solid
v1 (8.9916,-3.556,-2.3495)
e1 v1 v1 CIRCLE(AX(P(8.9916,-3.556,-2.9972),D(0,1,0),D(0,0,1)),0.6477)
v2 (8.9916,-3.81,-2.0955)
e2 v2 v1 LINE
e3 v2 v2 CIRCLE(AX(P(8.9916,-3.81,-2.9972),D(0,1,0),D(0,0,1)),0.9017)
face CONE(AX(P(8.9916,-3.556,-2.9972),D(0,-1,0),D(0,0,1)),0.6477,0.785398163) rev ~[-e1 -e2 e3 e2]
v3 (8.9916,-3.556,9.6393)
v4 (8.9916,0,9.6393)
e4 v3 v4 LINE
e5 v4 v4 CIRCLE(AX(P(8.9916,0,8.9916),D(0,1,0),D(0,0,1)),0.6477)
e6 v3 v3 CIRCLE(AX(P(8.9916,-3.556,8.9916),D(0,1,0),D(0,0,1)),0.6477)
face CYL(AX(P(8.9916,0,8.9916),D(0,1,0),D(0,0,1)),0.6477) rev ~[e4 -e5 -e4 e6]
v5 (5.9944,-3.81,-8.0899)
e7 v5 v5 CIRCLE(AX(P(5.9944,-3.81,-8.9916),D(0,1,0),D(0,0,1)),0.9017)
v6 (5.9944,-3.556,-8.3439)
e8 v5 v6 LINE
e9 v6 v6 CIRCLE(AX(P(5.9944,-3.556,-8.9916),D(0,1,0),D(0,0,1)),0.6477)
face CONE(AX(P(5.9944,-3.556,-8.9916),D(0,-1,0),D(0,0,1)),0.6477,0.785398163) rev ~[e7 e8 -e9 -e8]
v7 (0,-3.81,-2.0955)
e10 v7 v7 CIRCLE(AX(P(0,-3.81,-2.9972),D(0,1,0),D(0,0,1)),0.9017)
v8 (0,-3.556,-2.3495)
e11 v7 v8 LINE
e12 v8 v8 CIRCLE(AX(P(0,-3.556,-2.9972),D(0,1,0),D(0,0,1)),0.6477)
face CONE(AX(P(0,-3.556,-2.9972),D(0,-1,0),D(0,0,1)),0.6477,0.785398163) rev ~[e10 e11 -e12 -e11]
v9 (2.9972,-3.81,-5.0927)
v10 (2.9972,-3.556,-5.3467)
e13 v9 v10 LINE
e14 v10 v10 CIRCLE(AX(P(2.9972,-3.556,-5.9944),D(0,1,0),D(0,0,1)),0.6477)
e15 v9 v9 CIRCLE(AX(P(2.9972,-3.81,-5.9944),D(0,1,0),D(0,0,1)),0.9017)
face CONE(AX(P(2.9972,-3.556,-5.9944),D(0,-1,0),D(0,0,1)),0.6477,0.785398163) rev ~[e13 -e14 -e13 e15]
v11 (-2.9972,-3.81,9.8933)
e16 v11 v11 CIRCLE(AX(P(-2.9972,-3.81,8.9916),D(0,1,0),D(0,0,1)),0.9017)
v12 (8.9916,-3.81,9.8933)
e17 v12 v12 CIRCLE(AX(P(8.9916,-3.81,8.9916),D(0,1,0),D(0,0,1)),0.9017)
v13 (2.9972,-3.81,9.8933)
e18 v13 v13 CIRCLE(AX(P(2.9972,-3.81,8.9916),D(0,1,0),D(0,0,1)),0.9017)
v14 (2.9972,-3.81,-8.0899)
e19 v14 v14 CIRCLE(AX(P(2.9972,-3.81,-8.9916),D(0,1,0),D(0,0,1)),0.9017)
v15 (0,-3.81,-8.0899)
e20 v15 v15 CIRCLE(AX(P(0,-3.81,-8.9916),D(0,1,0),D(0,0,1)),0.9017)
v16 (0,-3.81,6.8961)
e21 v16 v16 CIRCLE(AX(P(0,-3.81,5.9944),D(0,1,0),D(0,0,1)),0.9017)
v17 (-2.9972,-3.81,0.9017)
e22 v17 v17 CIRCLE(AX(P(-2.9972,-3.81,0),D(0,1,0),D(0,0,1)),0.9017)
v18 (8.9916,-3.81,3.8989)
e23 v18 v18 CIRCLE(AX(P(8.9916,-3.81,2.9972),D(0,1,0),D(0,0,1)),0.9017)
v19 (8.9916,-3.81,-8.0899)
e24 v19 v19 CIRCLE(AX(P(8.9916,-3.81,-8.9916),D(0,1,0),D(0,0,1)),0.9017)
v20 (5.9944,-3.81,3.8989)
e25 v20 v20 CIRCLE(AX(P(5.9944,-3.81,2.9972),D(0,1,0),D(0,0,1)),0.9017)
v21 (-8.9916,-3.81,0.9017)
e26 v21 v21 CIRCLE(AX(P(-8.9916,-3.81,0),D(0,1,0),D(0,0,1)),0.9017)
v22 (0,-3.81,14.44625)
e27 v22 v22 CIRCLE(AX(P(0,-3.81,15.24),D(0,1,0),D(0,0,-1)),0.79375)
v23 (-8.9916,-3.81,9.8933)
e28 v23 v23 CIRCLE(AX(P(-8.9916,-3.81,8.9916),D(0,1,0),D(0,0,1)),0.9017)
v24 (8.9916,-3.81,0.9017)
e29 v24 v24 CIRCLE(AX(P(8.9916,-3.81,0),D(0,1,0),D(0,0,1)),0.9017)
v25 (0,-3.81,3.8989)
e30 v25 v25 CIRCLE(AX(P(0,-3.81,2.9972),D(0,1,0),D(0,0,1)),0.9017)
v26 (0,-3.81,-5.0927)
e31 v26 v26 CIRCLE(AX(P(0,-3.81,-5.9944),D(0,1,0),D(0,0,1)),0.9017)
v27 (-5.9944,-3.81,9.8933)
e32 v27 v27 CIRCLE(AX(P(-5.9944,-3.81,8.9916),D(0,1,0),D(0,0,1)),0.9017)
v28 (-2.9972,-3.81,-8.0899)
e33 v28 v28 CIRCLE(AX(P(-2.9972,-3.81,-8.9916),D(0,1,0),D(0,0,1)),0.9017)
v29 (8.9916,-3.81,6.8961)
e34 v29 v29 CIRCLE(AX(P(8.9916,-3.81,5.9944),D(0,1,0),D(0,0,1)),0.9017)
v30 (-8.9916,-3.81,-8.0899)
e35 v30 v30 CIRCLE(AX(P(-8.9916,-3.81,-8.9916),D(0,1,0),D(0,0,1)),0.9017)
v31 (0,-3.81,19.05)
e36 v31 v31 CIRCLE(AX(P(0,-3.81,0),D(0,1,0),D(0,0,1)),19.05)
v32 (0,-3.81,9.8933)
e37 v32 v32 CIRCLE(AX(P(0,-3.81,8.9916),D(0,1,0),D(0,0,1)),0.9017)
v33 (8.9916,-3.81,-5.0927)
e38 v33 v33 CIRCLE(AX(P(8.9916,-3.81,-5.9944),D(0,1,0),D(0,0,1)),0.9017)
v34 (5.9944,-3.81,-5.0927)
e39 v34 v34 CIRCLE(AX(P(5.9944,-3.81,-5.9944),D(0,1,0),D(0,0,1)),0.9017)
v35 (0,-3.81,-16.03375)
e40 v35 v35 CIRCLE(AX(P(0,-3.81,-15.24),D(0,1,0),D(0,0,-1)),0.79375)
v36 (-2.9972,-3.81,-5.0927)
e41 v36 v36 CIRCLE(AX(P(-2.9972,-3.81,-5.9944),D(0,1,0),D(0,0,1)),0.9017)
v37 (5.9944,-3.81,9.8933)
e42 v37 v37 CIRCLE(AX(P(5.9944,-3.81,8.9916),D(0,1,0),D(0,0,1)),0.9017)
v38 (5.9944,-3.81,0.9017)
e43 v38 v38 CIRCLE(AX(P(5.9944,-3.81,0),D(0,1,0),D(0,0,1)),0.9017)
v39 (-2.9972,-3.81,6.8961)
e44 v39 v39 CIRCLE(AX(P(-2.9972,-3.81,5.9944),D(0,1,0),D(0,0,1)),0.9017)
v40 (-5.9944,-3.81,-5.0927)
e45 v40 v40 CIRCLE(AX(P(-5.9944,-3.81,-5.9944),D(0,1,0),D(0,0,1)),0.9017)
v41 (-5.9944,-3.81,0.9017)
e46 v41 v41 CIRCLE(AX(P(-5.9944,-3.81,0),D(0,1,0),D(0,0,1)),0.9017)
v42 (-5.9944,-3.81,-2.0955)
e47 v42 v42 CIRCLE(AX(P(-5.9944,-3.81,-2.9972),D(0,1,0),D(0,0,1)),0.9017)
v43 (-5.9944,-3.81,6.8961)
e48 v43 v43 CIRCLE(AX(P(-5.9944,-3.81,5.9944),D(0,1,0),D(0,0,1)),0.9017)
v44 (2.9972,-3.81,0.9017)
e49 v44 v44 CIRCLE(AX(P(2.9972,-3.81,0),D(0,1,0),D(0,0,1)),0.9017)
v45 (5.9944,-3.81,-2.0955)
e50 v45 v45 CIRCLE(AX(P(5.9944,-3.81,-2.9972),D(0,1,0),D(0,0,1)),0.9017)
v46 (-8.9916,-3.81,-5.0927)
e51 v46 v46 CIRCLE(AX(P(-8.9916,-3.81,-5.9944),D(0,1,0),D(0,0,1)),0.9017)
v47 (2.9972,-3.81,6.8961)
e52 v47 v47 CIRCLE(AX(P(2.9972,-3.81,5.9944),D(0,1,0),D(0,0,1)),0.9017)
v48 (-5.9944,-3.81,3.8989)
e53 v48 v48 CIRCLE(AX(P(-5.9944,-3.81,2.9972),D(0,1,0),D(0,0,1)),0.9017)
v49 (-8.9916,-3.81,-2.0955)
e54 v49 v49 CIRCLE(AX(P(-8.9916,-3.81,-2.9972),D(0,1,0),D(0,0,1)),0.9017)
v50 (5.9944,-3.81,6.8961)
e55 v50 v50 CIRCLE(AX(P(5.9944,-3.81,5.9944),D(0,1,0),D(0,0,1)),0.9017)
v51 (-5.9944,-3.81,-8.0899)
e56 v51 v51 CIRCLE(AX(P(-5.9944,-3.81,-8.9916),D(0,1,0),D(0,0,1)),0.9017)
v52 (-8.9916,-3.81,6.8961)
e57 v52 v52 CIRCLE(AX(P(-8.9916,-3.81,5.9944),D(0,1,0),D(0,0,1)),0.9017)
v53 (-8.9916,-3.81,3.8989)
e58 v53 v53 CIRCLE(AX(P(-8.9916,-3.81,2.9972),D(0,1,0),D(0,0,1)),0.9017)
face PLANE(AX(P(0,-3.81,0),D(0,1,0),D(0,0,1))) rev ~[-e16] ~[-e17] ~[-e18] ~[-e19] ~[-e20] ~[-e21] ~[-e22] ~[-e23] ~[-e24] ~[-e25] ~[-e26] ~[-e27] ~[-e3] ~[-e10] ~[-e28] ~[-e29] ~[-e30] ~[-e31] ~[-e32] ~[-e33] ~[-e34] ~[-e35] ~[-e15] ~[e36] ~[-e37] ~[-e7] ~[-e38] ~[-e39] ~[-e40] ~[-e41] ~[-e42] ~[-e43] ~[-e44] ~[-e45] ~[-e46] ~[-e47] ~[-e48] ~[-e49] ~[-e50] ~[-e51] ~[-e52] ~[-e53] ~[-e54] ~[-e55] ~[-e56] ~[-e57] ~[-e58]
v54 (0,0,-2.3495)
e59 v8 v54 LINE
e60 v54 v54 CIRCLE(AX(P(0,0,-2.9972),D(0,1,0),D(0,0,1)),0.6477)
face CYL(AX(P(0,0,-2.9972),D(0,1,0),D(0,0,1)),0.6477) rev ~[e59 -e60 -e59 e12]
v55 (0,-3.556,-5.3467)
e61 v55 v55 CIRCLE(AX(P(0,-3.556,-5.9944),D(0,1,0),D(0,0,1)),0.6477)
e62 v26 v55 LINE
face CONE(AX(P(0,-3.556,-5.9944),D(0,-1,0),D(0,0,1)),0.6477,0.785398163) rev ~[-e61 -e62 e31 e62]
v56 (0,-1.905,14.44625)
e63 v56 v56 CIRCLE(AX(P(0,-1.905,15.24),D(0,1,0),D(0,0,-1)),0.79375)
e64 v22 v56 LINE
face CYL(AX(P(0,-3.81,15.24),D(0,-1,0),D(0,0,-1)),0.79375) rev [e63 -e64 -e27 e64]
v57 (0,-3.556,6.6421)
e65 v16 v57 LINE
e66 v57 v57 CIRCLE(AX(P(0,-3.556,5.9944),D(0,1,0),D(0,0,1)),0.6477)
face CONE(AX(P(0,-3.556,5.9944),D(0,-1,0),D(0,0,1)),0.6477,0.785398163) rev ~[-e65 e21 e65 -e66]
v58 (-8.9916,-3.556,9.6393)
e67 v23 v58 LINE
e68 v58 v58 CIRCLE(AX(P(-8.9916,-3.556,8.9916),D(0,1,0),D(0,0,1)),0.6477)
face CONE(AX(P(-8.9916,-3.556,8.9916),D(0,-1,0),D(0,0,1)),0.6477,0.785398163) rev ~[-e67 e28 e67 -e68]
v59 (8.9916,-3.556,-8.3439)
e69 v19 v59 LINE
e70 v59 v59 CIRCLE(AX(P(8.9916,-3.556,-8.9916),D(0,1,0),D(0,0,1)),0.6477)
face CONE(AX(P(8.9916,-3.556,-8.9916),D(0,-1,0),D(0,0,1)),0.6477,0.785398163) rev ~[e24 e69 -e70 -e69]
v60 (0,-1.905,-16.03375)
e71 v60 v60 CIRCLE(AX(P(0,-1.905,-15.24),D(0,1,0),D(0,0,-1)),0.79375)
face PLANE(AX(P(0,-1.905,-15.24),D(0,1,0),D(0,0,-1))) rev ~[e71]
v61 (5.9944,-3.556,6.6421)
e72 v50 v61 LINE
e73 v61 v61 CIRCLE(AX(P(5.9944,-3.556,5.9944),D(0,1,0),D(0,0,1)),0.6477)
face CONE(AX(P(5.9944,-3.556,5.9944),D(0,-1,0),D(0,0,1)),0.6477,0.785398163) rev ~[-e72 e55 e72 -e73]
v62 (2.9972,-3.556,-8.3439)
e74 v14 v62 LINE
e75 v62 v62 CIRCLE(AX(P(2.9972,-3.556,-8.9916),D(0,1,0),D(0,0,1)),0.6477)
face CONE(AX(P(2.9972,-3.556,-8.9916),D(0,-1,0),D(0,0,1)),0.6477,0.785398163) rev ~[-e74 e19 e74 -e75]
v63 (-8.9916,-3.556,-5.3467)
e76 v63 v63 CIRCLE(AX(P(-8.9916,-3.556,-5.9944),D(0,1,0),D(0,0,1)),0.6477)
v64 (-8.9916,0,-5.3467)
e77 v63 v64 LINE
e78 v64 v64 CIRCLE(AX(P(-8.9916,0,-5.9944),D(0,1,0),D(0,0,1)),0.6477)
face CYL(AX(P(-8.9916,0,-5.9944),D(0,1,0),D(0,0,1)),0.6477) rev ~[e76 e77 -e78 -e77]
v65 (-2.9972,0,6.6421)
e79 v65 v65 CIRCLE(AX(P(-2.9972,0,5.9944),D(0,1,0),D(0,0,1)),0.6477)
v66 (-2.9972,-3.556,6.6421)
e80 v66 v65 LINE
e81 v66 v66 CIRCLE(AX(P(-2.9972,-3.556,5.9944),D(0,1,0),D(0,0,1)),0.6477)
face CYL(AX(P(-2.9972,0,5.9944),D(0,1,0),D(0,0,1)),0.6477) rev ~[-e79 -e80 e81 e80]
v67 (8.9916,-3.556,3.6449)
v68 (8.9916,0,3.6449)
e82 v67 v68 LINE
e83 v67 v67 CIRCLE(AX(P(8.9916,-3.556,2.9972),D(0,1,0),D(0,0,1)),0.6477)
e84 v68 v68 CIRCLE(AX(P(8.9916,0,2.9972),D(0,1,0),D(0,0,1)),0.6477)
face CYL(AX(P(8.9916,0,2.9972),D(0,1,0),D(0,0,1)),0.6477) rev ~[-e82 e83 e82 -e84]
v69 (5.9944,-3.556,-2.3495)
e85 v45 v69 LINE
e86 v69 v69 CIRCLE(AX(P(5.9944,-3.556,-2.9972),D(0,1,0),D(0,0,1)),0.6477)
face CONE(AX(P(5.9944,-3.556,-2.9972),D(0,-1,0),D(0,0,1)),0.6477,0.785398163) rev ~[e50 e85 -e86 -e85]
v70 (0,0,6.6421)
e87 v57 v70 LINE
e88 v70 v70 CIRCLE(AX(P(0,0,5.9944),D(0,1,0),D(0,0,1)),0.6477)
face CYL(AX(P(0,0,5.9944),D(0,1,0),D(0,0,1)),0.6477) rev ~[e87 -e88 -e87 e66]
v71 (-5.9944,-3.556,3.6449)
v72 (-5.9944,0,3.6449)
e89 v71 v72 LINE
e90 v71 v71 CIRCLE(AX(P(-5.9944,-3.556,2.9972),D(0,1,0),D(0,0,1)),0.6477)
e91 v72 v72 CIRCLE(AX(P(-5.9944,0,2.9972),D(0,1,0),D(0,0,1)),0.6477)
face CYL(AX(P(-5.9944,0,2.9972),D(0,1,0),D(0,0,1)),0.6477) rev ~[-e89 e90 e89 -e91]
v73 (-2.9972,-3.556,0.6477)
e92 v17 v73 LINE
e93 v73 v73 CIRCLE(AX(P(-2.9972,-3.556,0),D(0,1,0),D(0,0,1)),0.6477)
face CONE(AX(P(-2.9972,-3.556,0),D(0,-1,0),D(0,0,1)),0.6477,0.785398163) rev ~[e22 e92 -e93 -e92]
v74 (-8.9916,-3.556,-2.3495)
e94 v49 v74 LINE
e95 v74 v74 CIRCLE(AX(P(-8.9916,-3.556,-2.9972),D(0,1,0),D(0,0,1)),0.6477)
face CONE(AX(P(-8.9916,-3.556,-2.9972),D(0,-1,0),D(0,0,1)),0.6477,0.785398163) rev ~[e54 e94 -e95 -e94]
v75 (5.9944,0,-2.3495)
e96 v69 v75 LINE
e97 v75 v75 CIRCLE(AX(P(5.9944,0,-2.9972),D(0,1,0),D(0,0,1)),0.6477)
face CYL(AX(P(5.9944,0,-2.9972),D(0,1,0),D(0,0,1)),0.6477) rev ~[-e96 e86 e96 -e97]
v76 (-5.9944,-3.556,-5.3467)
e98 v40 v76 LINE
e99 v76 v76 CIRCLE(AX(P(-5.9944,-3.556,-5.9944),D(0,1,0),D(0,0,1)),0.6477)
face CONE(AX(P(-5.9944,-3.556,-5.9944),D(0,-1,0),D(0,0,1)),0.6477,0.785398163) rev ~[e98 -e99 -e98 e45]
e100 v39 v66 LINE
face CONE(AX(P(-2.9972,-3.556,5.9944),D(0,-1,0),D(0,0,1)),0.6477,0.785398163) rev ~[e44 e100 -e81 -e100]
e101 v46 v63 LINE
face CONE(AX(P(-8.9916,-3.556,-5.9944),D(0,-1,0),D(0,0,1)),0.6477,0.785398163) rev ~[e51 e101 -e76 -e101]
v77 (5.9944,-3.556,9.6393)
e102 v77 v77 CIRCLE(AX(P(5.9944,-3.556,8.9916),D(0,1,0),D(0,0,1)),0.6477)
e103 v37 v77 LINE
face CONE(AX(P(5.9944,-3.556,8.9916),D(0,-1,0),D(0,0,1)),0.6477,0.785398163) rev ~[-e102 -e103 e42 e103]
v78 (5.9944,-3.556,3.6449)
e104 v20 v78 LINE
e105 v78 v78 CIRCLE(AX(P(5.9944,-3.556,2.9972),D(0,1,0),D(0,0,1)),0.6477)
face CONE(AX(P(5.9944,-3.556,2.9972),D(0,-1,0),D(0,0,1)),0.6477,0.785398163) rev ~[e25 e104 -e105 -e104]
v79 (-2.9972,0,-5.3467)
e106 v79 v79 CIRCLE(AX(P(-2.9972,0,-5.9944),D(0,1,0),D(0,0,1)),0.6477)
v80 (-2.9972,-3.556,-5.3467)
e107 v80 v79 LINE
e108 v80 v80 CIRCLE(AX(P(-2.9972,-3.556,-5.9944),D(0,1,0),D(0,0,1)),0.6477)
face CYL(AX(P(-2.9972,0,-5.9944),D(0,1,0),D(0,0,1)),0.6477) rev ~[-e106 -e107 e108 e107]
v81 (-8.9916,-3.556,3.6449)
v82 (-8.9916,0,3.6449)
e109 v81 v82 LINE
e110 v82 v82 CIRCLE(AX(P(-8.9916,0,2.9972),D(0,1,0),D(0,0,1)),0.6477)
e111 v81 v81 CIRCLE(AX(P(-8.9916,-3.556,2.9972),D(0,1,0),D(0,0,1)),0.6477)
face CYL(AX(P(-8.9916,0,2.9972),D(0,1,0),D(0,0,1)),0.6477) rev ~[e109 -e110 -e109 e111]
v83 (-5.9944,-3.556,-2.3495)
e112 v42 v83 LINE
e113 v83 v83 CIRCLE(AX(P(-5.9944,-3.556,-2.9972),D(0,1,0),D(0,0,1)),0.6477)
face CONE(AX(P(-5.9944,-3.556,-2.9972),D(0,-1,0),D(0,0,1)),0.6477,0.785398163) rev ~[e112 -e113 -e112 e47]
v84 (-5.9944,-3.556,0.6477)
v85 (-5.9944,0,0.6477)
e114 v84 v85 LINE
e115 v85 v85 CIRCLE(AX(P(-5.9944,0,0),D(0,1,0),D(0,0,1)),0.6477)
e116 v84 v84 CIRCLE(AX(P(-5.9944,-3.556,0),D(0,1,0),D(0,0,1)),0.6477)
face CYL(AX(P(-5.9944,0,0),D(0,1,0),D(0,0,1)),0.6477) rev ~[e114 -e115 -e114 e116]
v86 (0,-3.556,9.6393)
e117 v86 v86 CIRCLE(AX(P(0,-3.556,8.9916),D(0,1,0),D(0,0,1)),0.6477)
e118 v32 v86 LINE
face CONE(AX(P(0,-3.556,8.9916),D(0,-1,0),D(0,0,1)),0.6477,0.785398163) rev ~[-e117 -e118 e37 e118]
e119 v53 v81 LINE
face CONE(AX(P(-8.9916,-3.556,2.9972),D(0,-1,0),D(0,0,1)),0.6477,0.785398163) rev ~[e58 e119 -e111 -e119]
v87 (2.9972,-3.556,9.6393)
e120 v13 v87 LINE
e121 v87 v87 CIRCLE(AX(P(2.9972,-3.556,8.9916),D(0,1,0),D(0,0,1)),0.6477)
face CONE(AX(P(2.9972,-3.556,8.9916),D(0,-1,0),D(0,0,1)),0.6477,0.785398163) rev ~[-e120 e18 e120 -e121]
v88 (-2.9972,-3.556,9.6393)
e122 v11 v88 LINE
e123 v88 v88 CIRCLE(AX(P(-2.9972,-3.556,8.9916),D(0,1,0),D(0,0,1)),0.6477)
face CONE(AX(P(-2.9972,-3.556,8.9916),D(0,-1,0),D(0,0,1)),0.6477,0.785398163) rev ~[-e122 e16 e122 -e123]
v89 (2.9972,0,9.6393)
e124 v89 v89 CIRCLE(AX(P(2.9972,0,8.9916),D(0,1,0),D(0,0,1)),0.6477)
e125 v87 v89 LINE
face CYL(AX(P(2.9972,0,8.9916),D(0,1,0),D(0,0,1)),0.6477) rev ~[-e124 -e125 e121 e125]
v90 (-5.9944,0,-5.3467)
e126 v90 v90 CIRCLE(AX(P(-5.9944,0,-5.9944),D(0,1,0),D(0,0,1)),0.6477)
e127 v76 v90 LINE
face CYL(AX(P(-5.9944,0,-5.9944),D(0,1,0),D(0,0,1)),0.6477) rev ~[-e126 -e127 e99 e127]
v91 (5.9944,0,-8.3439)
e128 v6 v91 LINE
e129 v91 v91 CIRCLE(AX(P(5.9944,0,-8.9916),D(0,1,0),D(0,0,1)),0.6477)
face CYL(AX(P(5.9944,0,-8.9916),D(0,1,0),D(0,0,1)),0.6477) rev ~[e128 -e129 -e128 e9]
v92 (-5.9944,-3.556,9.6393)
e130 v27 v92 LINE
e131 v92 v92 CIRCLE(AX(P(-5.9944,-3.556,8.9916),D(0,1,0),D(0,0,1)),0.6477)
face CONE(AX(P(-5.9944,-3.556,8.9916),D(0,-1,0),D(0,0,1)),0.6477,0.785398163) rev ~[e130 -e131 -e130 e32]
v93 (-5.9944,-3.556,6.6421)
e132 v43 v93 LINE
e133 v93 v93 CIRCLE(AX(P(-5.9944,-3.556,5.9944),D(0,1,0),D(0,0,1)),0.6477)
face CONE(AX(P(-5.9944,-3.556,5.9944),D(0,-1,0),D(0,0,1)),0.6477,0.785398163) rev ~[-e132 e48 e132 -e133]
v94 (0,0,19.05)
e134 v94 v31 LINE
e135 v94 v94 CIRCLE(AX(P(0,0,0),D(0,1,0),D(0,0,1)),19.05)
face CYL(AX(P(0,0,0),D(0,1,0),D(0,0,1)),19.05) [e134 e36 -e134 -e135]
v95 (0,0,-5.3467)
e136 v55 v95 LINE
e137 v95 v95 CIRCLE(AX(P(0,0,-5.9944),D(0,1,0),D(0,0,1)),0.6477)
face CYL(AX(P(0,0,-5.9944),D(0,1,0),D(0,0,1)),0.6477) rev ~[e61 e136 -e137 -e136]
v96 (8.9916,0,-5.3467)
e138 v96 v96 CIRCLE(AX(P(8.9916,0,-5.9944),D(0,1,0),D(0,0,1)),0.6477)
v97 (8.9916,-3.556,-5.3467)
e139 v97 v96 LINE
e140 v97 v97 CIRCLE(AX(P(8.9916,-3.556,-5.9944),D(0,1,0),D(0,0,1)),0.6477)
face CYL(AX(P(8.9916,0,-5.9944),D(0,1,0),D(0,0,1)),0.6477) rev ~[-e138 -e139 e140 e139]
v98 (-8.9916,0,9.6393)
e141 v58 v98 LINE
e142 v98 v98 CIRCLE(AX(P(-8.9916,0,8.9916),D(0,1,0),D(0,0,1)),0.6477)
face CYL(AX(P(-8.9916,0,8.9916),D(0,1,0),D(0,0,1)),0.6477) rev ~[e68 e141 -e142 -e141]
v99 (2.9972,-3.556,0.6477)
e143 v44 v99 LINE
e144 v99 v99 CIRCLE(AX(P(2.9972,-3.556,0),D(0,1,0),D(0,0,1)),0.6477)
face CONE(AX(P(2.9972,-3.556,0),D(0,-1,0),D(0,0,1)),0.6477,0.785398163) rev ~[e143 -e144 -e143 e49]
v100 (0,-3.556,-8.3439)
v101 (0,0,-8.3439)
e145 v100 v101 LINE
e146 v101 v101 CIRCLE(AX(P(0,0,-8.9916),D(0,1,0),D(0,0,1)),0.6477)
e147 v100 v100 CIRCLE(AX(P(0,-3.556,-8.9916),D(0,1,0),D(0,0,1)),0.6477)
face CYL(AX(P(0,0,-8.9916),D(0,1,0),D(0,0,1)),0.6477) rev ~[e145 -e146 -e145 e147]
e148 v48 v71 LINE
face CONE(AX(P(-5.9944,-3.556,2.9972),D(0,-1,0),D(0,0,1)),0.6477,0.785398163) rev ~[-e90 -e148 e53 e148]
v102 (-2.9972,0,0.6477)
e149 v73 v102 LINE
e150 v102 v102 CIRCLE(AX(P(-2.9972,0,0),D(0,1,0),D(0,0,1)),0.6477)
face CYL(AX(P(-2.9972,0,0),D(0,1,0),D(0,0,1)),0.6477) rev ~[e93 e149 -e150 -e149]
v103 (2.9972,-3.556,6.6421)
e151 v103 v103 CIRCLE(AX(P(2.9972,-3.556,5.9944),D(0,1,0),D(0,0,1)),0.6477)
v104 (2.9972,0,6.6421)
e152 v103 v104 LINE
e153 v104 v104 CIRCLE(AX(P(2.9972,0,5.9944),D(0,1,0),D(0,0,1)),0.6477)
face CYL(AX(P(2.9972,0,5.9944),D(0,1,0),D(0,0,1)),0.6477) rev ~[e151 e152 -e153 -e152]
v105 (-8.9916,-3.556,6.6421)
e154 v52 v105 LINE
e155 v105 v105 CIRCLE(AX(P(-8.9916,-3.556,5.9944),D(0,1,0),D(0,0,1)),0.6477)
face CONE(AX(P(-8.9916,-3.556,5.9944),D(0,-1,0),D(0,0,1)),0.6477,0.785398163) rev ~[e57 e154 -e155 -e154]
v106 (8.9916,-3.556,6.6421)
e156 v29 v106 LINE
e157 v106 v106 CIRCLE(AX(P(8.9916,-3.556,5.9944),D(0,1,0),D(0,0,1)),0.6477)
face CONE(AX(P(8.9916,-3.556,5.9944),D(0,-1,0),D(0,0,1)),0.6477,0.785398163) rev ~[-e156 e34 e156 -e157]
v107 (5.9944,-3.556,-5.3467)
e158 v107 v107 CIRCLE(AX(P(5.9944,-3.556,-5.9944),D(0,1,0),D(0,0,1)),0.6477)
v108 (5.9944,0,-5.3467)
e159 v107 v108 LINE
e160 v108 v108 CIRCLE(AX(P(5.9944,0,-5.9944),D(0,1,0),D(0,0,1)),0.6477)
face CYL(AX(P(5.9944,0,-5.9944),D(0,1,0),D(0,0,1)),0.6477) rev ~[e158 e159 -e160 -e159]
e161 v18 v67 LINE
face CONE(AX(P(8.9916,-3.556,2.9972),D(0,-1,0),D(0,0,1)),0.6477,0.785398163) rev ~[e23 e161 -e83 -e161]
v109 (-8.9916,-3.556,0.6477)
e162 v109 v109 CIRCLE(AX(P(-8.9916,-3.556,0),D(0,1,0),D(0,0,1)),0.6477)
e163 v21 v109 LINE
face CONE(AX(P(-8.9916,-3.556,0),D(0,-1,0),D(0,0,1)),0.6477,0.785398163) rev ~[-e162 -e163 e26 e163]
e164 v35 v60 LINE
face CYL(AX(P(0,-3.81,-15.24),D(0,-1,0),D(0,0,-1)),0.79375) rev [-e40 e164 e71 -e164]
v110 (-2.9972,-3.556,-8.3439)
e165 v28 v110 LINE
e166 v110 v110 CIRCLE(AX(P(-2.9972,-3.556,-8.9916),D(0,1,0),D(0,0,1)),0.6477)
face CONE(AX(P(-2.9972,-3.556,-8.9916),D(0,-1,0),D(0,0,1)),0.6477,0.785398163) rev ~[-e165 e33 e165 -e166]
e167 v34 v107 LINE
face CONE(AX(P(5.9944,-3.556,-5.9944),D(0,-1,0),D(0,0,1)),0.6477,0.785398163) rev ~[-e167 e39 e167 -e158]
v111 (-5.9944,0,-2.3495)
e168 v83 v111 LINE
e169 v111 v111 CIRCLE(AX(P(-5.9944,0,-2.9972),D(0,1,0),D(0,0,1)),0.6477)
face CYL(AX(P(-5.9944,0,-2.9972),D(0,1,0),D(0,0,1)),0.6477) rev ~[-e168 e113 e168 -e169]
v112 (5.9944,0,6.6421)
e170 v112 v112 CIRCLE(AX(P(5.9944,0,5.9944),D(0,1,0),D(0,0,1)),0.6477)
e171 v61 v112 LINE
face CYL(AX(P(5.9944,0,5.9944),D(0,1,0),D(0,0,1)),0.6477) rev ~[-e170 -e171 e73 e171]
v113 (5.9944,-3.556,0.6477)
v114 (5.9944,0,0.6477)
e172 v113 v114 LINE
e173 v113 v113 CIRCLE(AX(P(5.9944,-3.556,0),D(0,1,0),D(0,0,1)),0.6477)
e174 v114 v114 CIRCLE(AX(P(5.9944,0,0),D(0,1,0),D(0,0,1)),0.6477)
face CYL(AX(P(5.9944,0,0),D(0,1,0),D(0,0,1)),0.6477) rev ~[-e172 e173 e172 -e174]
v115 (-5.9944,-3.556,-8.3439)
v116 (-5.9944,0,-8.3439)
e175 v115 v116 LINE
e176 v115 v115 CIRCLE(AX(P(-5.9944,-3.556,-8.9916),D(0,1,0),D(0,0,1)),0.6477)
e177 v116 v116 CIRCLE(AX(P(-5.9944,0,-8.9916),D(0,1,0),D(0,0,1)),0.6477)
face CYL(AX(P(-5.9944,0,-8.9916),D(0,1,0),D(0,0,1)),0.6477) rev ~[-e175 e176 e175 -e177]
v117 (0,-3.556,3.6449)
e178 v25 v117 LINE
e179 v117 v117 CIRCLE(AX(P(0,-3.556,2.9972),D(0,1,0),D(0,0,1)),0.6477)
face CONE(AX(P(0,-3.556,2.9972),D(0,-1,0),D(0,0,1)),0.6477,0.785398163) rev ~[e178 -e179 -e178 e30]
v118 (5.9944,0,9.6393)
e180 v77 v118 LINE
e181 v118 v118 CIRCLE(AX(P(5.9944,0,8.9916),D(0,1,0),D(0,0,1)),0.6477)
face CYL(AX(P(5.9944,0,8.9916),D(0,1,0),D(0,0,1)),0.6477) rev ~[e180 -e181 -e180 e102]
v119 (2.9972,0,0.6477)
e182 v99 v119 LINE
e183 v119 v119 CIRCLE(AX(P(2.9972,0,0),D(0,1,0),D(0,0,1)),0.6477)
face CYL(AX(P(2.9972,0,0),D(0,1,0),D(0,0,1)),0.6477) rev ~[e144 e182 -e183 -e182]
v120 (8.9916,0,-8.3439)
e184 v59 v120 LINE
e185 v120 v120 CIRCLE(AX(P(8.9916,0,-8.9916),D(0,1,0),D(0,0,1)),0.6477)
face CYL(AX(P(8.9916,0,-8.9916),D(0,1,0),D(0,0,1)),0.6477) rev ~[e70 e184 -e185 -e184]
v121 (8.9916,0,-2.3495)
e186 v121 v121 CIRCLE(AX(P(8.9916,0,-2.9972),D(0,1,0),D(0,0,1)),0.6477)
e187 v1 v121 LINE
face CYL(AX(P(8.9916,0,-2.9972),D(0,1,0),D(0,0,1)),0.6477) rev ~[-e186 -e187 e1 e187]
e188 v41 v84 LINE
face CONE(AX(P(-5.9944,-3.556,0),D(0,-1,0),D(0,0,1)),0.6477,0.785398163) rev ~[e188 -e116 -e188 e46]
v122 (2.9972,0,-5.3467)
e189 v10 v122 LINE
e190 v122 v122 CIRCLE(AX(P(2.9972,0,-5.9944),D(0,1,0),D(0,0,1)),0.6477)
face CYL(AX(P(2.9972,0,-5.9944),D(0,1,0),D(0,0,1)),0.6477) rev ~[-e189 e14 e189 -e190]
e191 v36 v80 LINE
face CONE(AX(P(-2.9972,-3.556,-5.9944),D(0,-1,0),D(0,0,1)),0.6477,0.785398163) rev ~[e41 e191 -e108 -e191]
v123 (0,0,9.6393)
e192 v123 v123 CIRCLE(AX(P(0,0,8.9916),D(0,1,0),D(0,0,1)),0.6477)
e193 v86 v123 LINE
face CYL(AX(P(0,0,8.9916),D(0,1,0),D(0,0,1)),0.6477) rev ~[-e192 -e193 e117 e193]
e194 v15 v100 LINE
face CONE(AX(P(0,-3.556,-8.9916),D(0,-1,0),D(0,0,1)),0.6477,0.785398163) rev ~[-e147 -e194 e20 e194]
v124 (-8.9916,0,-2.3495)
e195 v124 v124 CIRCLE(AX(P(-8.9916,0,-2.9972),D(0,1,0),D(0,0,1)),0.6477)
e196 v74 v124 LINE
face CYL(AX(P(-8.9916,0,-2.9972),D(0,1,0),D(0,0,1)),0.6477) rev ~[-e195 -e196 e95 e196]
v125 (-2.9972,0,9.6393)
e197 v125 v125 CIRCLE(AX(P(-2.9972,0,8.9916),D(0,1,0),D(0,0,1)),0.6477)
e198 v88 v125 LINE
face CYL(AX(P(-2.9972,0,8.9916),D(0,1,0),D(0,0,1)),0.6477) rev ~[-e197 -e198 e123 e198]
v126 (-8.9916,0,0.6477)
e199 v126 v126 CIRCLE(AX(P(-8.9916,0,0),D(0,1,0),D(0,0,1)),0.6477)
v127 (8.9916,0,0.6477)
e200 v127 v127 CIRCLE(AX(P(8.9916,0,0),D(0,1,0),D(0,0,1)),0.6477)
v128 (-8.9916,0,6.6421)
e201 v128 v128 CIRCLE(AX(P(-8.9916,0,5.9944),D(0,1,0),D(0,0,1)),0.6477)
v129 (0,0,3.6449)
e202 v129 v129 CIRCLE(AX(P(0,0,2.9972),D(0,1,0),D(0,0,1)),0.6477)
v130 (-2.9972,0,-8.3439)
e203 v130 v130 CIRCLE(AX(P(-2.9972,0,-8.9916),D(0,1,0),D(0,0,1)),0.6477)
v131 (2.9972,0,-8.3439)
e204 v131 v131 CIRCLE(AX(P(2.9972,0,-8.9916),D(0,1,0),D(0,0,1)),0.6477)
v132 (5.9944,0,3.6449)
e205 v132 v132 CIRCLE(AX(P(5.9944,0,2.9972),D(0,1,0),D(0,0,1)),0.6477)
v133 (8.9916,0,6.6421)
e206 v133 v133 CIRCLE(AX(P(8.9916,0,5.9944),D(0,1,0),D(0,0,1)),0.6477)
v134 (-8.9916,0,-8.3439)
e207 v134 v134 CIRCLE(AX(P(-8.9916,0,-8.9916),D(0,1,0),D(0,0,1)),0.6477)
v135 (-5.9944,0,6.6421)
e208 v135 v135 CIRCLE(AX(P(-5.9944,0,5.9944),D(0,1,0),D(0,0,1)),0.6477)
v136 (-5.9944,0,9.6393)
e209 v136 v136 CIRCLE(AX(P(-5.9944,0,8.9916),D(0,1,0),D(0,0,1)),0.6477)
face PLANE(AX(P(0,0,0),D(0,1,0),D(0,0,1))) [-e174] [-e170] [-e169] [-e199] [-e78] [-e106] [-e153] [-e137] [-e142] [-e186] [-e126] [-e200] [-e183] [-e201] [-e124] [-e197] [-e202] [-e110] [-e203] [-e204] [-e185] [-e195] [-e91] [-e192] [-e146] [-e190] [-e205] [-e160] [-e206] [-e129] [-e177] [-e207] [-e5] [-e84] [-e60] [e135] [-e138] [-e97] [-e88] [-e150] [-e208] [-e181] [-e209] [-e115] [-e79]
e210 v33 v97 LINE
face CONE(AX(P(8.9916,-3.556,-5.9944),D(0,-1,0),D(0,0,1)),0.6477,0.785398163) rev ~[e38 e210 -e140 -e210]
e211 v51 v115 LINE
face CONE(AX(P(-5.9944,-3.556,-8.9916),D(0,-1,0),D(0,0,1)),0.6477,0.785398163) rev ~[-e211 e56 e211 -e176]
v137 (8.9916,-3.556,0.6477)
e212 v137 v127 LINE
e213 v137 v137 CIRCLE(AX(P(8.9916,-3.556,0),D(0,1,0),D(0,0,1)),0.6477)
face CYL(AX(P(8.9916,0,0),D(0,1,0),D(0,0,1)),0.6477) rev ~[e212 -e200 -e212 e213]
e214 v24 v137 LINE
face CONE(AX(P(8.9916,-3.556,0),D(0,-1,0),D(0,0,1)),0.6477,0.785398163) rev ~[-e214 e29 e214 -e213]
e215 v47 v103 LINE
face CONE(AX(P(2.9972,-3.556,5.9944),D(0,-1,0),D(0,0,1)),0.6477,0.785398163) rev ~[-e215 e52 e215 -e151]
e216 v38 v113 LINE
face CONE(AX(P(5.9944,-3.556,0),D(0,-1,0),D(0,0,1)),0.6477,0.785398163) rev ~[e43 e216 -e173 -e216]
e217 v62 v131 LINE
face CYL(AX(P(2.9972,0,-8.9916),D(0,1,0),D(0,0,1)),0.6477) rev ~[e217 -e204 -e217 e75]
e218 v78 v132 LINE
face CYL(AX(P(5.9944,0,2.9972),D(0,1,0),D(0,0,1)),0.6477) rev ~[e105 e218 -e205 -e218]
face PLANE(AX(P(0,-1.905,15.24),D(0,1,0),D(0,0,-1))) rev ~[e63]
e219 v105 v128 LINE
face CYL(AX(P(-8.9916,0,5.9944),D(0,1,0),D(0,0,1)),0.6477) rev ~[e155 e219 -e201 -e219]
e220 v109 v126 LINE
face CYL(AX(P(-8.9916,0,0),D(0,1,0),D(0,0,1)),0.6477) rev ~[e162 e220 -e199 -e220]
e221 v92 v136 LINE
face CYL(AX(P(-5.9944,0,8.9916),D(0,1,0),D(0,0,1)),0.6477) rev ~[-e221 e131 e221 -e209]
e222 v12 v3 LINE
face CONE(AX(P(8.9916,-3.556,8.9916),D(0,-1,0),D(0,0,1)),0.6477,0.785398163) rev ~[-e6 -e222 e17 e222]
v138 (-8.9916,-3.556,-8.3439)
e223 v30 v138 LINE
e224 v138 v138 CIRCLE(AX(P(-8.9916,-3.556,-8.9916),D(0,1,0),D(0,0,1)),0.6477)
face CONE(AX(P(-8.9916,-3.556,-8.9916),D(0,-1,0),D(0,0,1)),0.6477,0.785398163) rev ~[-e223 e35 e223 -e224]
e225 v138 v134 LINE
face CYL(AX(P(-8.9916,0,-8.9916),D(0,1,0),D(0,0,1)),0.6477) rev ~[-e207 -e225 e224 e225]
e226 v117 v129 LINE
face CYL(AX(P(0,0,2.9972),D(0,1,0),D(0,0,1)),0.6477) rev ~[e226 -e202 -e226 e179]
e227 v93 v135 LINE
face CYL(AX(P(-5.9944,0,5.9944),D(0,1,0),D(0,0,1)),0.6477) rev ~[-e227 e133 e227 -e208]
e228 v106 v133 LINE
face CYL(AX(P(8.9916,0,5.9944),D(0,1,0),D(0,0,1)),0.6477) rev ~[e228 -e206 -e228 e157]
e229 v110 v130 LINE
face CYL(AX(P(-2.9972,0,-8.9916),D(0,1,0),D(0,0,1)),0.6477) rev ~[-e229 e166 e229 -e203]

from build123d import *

# Parameters (mm, degrees)
SKETCH1_R                                 = 19.05
BILLET_DEPTH                              = 3.81
SKETCH2_R                                 = 0.6477
FIRST_LOX_HOLE_DEPTH                      = 28.208842313
BRAISING_CHAMFER_SIZE                     = 0.254
LOX_HOLE_PATTERN_COUNT                    = 7
LOX_HOLE_PATTERN_PITCH                    = 2.9972
LOX_HOLE_PATTERN_COUNT_DIR2               = 7
LOX_HOLE_PATTERN_PITCH_DIR2               = 2.9972
BRAISING_CHAMFER_OF_LOX_HOLE_PATTERN_SIZE = 0.254
SKETCH3_R                                 = 0.79375
DOWEL_HOLE_DEPTH                          = 1.905


with BuildPart() as part:
    # Sketch1 → Billet (new body)
    with BuildSketch(Plane(origin=(0, 0, 0), x_dir=(1, 0, 0), z_dir=(0, 1, 0))):
        Circle(SKETCH1_R)
    extrude(amount=-BILLET_DEPTH)

    # Sketch2 → First Lox Hole (cut, symmetric)
    with BuildSketch(Plane(origin=(0, 0, 0), x_dir=(1, 0, 0), z_dir=(0, 1, 0))):
        with Locations((8.9916, 8.9916)):
            Circle(SKETCH2_R)
    first_lox_hole = extrude(amount=FIRST_LOX_HOLE_DEPTH, both=True, mode=Mode.SUBTRACT)

    # Braising Chamfer
    braising_chamfer_edges = [part.edges().sort_by_distance(p)[0] for p in [
        (8.3439, -3.81, -8.9916),
    ]]
    chamfer(braising_chamfer_edges, length=BRAISING_CHAMFER_SIZE)

    # Lox Hole Pattern: First Lox Hole 7 × 7, 5 skipped
    with Locations(*[(-i * LOX_HOLE_PATTERN_PITCH, 0, j * LOX_HOLE_PATTERN_PITCH_DIR2) for i in range(LOX_HOLE_PATTERN_COUNT) for j in range(LOX_HOLE_PATTERN_COUNT_DIR2) if (i, j) not in ((0, 0), (2, 2), (2, 4), (3, 3), (4, 2), (4, 4))]):
        add(first_lox_hole, mode=Mode.SUBTRACT)

    # Braising Chamfer of Lox Hole Pattern
    braising_chamfer_of_lox_hole_pattern_edges = [part.edges().sort_by_distance(p)[0] for p in [
        (8.3439, -3.81, -5.9944),
        (8.3439, -3.81, -2.9972),
        (8.3439, -3.81, 0),
        (8.3439, -3.81, 2.9972),
        (8.3439, -3.81, 5.9944),
        (8.3439, -3.81, 8.9916),
        (5.3467, -3.81, -8.9916),
        (5.3467, -3.81, -5.9944),
        (5.3467, -3.81, -2.9972),
        (5.3467, -3.81, 0),
        (5.3467, -3.81, 2.9972),
        (5.3467, -3.81, 5.9944),
        (5.3467, -3.81, 8.9916),
        (2.3495, -3.81, -8.9916),
        (2.3495, -3.81, -5.9944),
        (2.3495, -3.81, 0),
        (2.3495, -3.81, 5.9944),
        (2.3495, -3.81, 8.9916),
        (-0.6477, -3.81, -8.9916),
        (-0.6477, -3.81, -5.9944),
        (-0.6477, -3.81, -2.9972),
        (-0.6477, -3.81, 2.9972),
        (-0.6477, -3.81, 5.9944),
        (-0.6477, -3.81, 8.9916),
        (-3.6449, -3.81, -8.9916),
        (-3.6449, -3.81, -5.9944),
        (-3.6449, -3.81, 0),
        (-3.6449, -3.81, 5.9944),
        (-3.6449, -3.81, 8.9916),
        (-6.6421, -3.81, -8.9916),
        (-6.6421, -3.81, -5.9944),
        (-6.6421, -3.81, -2.9972),
        (-6.6421, -3.81, 0),
        (-6.6421, -3.81, 2.9972),
        (-6.6421, -3.81, 5.9944),
        (-6.6421, -3.81, 8.9916),
        (-9.6393, -3.81, -8.9916),
        (-9.6393, -3.81, -5.9944),
        (-9.6393, -3.81, -2.9972),
        (-9.6393, -3.81, 0),
        (-9.6393, -3.81, 2.9972),
        (-9.6393, -3.81, 5.9944),
        (-9.6393, -3.81, 8.9916),
    ]]
    chamfer(braising_chamfer_of_lox_hole_pattern_edges, length=BRAISING_CHAMFER_OF_LOX_HOLE_PATTERN_SIZE)

    # Sketch3 → Dowel Hole (cut)
    with BuildSketch(Plane(origin=(0, -3.81, 0), x_dir=(-1, 0, 0), z_dir=(0, 1, 0))):
        with Locations((0, 15.24)):
            Circle(SKETCH3_R)
        with Locations((0, -15.24)):
            Circle(SKETCH3_R)
    extrude(amount=DOWEL_HOLE_DEPTH, mode=Mode.SUBTRACT)


solid = part.part
